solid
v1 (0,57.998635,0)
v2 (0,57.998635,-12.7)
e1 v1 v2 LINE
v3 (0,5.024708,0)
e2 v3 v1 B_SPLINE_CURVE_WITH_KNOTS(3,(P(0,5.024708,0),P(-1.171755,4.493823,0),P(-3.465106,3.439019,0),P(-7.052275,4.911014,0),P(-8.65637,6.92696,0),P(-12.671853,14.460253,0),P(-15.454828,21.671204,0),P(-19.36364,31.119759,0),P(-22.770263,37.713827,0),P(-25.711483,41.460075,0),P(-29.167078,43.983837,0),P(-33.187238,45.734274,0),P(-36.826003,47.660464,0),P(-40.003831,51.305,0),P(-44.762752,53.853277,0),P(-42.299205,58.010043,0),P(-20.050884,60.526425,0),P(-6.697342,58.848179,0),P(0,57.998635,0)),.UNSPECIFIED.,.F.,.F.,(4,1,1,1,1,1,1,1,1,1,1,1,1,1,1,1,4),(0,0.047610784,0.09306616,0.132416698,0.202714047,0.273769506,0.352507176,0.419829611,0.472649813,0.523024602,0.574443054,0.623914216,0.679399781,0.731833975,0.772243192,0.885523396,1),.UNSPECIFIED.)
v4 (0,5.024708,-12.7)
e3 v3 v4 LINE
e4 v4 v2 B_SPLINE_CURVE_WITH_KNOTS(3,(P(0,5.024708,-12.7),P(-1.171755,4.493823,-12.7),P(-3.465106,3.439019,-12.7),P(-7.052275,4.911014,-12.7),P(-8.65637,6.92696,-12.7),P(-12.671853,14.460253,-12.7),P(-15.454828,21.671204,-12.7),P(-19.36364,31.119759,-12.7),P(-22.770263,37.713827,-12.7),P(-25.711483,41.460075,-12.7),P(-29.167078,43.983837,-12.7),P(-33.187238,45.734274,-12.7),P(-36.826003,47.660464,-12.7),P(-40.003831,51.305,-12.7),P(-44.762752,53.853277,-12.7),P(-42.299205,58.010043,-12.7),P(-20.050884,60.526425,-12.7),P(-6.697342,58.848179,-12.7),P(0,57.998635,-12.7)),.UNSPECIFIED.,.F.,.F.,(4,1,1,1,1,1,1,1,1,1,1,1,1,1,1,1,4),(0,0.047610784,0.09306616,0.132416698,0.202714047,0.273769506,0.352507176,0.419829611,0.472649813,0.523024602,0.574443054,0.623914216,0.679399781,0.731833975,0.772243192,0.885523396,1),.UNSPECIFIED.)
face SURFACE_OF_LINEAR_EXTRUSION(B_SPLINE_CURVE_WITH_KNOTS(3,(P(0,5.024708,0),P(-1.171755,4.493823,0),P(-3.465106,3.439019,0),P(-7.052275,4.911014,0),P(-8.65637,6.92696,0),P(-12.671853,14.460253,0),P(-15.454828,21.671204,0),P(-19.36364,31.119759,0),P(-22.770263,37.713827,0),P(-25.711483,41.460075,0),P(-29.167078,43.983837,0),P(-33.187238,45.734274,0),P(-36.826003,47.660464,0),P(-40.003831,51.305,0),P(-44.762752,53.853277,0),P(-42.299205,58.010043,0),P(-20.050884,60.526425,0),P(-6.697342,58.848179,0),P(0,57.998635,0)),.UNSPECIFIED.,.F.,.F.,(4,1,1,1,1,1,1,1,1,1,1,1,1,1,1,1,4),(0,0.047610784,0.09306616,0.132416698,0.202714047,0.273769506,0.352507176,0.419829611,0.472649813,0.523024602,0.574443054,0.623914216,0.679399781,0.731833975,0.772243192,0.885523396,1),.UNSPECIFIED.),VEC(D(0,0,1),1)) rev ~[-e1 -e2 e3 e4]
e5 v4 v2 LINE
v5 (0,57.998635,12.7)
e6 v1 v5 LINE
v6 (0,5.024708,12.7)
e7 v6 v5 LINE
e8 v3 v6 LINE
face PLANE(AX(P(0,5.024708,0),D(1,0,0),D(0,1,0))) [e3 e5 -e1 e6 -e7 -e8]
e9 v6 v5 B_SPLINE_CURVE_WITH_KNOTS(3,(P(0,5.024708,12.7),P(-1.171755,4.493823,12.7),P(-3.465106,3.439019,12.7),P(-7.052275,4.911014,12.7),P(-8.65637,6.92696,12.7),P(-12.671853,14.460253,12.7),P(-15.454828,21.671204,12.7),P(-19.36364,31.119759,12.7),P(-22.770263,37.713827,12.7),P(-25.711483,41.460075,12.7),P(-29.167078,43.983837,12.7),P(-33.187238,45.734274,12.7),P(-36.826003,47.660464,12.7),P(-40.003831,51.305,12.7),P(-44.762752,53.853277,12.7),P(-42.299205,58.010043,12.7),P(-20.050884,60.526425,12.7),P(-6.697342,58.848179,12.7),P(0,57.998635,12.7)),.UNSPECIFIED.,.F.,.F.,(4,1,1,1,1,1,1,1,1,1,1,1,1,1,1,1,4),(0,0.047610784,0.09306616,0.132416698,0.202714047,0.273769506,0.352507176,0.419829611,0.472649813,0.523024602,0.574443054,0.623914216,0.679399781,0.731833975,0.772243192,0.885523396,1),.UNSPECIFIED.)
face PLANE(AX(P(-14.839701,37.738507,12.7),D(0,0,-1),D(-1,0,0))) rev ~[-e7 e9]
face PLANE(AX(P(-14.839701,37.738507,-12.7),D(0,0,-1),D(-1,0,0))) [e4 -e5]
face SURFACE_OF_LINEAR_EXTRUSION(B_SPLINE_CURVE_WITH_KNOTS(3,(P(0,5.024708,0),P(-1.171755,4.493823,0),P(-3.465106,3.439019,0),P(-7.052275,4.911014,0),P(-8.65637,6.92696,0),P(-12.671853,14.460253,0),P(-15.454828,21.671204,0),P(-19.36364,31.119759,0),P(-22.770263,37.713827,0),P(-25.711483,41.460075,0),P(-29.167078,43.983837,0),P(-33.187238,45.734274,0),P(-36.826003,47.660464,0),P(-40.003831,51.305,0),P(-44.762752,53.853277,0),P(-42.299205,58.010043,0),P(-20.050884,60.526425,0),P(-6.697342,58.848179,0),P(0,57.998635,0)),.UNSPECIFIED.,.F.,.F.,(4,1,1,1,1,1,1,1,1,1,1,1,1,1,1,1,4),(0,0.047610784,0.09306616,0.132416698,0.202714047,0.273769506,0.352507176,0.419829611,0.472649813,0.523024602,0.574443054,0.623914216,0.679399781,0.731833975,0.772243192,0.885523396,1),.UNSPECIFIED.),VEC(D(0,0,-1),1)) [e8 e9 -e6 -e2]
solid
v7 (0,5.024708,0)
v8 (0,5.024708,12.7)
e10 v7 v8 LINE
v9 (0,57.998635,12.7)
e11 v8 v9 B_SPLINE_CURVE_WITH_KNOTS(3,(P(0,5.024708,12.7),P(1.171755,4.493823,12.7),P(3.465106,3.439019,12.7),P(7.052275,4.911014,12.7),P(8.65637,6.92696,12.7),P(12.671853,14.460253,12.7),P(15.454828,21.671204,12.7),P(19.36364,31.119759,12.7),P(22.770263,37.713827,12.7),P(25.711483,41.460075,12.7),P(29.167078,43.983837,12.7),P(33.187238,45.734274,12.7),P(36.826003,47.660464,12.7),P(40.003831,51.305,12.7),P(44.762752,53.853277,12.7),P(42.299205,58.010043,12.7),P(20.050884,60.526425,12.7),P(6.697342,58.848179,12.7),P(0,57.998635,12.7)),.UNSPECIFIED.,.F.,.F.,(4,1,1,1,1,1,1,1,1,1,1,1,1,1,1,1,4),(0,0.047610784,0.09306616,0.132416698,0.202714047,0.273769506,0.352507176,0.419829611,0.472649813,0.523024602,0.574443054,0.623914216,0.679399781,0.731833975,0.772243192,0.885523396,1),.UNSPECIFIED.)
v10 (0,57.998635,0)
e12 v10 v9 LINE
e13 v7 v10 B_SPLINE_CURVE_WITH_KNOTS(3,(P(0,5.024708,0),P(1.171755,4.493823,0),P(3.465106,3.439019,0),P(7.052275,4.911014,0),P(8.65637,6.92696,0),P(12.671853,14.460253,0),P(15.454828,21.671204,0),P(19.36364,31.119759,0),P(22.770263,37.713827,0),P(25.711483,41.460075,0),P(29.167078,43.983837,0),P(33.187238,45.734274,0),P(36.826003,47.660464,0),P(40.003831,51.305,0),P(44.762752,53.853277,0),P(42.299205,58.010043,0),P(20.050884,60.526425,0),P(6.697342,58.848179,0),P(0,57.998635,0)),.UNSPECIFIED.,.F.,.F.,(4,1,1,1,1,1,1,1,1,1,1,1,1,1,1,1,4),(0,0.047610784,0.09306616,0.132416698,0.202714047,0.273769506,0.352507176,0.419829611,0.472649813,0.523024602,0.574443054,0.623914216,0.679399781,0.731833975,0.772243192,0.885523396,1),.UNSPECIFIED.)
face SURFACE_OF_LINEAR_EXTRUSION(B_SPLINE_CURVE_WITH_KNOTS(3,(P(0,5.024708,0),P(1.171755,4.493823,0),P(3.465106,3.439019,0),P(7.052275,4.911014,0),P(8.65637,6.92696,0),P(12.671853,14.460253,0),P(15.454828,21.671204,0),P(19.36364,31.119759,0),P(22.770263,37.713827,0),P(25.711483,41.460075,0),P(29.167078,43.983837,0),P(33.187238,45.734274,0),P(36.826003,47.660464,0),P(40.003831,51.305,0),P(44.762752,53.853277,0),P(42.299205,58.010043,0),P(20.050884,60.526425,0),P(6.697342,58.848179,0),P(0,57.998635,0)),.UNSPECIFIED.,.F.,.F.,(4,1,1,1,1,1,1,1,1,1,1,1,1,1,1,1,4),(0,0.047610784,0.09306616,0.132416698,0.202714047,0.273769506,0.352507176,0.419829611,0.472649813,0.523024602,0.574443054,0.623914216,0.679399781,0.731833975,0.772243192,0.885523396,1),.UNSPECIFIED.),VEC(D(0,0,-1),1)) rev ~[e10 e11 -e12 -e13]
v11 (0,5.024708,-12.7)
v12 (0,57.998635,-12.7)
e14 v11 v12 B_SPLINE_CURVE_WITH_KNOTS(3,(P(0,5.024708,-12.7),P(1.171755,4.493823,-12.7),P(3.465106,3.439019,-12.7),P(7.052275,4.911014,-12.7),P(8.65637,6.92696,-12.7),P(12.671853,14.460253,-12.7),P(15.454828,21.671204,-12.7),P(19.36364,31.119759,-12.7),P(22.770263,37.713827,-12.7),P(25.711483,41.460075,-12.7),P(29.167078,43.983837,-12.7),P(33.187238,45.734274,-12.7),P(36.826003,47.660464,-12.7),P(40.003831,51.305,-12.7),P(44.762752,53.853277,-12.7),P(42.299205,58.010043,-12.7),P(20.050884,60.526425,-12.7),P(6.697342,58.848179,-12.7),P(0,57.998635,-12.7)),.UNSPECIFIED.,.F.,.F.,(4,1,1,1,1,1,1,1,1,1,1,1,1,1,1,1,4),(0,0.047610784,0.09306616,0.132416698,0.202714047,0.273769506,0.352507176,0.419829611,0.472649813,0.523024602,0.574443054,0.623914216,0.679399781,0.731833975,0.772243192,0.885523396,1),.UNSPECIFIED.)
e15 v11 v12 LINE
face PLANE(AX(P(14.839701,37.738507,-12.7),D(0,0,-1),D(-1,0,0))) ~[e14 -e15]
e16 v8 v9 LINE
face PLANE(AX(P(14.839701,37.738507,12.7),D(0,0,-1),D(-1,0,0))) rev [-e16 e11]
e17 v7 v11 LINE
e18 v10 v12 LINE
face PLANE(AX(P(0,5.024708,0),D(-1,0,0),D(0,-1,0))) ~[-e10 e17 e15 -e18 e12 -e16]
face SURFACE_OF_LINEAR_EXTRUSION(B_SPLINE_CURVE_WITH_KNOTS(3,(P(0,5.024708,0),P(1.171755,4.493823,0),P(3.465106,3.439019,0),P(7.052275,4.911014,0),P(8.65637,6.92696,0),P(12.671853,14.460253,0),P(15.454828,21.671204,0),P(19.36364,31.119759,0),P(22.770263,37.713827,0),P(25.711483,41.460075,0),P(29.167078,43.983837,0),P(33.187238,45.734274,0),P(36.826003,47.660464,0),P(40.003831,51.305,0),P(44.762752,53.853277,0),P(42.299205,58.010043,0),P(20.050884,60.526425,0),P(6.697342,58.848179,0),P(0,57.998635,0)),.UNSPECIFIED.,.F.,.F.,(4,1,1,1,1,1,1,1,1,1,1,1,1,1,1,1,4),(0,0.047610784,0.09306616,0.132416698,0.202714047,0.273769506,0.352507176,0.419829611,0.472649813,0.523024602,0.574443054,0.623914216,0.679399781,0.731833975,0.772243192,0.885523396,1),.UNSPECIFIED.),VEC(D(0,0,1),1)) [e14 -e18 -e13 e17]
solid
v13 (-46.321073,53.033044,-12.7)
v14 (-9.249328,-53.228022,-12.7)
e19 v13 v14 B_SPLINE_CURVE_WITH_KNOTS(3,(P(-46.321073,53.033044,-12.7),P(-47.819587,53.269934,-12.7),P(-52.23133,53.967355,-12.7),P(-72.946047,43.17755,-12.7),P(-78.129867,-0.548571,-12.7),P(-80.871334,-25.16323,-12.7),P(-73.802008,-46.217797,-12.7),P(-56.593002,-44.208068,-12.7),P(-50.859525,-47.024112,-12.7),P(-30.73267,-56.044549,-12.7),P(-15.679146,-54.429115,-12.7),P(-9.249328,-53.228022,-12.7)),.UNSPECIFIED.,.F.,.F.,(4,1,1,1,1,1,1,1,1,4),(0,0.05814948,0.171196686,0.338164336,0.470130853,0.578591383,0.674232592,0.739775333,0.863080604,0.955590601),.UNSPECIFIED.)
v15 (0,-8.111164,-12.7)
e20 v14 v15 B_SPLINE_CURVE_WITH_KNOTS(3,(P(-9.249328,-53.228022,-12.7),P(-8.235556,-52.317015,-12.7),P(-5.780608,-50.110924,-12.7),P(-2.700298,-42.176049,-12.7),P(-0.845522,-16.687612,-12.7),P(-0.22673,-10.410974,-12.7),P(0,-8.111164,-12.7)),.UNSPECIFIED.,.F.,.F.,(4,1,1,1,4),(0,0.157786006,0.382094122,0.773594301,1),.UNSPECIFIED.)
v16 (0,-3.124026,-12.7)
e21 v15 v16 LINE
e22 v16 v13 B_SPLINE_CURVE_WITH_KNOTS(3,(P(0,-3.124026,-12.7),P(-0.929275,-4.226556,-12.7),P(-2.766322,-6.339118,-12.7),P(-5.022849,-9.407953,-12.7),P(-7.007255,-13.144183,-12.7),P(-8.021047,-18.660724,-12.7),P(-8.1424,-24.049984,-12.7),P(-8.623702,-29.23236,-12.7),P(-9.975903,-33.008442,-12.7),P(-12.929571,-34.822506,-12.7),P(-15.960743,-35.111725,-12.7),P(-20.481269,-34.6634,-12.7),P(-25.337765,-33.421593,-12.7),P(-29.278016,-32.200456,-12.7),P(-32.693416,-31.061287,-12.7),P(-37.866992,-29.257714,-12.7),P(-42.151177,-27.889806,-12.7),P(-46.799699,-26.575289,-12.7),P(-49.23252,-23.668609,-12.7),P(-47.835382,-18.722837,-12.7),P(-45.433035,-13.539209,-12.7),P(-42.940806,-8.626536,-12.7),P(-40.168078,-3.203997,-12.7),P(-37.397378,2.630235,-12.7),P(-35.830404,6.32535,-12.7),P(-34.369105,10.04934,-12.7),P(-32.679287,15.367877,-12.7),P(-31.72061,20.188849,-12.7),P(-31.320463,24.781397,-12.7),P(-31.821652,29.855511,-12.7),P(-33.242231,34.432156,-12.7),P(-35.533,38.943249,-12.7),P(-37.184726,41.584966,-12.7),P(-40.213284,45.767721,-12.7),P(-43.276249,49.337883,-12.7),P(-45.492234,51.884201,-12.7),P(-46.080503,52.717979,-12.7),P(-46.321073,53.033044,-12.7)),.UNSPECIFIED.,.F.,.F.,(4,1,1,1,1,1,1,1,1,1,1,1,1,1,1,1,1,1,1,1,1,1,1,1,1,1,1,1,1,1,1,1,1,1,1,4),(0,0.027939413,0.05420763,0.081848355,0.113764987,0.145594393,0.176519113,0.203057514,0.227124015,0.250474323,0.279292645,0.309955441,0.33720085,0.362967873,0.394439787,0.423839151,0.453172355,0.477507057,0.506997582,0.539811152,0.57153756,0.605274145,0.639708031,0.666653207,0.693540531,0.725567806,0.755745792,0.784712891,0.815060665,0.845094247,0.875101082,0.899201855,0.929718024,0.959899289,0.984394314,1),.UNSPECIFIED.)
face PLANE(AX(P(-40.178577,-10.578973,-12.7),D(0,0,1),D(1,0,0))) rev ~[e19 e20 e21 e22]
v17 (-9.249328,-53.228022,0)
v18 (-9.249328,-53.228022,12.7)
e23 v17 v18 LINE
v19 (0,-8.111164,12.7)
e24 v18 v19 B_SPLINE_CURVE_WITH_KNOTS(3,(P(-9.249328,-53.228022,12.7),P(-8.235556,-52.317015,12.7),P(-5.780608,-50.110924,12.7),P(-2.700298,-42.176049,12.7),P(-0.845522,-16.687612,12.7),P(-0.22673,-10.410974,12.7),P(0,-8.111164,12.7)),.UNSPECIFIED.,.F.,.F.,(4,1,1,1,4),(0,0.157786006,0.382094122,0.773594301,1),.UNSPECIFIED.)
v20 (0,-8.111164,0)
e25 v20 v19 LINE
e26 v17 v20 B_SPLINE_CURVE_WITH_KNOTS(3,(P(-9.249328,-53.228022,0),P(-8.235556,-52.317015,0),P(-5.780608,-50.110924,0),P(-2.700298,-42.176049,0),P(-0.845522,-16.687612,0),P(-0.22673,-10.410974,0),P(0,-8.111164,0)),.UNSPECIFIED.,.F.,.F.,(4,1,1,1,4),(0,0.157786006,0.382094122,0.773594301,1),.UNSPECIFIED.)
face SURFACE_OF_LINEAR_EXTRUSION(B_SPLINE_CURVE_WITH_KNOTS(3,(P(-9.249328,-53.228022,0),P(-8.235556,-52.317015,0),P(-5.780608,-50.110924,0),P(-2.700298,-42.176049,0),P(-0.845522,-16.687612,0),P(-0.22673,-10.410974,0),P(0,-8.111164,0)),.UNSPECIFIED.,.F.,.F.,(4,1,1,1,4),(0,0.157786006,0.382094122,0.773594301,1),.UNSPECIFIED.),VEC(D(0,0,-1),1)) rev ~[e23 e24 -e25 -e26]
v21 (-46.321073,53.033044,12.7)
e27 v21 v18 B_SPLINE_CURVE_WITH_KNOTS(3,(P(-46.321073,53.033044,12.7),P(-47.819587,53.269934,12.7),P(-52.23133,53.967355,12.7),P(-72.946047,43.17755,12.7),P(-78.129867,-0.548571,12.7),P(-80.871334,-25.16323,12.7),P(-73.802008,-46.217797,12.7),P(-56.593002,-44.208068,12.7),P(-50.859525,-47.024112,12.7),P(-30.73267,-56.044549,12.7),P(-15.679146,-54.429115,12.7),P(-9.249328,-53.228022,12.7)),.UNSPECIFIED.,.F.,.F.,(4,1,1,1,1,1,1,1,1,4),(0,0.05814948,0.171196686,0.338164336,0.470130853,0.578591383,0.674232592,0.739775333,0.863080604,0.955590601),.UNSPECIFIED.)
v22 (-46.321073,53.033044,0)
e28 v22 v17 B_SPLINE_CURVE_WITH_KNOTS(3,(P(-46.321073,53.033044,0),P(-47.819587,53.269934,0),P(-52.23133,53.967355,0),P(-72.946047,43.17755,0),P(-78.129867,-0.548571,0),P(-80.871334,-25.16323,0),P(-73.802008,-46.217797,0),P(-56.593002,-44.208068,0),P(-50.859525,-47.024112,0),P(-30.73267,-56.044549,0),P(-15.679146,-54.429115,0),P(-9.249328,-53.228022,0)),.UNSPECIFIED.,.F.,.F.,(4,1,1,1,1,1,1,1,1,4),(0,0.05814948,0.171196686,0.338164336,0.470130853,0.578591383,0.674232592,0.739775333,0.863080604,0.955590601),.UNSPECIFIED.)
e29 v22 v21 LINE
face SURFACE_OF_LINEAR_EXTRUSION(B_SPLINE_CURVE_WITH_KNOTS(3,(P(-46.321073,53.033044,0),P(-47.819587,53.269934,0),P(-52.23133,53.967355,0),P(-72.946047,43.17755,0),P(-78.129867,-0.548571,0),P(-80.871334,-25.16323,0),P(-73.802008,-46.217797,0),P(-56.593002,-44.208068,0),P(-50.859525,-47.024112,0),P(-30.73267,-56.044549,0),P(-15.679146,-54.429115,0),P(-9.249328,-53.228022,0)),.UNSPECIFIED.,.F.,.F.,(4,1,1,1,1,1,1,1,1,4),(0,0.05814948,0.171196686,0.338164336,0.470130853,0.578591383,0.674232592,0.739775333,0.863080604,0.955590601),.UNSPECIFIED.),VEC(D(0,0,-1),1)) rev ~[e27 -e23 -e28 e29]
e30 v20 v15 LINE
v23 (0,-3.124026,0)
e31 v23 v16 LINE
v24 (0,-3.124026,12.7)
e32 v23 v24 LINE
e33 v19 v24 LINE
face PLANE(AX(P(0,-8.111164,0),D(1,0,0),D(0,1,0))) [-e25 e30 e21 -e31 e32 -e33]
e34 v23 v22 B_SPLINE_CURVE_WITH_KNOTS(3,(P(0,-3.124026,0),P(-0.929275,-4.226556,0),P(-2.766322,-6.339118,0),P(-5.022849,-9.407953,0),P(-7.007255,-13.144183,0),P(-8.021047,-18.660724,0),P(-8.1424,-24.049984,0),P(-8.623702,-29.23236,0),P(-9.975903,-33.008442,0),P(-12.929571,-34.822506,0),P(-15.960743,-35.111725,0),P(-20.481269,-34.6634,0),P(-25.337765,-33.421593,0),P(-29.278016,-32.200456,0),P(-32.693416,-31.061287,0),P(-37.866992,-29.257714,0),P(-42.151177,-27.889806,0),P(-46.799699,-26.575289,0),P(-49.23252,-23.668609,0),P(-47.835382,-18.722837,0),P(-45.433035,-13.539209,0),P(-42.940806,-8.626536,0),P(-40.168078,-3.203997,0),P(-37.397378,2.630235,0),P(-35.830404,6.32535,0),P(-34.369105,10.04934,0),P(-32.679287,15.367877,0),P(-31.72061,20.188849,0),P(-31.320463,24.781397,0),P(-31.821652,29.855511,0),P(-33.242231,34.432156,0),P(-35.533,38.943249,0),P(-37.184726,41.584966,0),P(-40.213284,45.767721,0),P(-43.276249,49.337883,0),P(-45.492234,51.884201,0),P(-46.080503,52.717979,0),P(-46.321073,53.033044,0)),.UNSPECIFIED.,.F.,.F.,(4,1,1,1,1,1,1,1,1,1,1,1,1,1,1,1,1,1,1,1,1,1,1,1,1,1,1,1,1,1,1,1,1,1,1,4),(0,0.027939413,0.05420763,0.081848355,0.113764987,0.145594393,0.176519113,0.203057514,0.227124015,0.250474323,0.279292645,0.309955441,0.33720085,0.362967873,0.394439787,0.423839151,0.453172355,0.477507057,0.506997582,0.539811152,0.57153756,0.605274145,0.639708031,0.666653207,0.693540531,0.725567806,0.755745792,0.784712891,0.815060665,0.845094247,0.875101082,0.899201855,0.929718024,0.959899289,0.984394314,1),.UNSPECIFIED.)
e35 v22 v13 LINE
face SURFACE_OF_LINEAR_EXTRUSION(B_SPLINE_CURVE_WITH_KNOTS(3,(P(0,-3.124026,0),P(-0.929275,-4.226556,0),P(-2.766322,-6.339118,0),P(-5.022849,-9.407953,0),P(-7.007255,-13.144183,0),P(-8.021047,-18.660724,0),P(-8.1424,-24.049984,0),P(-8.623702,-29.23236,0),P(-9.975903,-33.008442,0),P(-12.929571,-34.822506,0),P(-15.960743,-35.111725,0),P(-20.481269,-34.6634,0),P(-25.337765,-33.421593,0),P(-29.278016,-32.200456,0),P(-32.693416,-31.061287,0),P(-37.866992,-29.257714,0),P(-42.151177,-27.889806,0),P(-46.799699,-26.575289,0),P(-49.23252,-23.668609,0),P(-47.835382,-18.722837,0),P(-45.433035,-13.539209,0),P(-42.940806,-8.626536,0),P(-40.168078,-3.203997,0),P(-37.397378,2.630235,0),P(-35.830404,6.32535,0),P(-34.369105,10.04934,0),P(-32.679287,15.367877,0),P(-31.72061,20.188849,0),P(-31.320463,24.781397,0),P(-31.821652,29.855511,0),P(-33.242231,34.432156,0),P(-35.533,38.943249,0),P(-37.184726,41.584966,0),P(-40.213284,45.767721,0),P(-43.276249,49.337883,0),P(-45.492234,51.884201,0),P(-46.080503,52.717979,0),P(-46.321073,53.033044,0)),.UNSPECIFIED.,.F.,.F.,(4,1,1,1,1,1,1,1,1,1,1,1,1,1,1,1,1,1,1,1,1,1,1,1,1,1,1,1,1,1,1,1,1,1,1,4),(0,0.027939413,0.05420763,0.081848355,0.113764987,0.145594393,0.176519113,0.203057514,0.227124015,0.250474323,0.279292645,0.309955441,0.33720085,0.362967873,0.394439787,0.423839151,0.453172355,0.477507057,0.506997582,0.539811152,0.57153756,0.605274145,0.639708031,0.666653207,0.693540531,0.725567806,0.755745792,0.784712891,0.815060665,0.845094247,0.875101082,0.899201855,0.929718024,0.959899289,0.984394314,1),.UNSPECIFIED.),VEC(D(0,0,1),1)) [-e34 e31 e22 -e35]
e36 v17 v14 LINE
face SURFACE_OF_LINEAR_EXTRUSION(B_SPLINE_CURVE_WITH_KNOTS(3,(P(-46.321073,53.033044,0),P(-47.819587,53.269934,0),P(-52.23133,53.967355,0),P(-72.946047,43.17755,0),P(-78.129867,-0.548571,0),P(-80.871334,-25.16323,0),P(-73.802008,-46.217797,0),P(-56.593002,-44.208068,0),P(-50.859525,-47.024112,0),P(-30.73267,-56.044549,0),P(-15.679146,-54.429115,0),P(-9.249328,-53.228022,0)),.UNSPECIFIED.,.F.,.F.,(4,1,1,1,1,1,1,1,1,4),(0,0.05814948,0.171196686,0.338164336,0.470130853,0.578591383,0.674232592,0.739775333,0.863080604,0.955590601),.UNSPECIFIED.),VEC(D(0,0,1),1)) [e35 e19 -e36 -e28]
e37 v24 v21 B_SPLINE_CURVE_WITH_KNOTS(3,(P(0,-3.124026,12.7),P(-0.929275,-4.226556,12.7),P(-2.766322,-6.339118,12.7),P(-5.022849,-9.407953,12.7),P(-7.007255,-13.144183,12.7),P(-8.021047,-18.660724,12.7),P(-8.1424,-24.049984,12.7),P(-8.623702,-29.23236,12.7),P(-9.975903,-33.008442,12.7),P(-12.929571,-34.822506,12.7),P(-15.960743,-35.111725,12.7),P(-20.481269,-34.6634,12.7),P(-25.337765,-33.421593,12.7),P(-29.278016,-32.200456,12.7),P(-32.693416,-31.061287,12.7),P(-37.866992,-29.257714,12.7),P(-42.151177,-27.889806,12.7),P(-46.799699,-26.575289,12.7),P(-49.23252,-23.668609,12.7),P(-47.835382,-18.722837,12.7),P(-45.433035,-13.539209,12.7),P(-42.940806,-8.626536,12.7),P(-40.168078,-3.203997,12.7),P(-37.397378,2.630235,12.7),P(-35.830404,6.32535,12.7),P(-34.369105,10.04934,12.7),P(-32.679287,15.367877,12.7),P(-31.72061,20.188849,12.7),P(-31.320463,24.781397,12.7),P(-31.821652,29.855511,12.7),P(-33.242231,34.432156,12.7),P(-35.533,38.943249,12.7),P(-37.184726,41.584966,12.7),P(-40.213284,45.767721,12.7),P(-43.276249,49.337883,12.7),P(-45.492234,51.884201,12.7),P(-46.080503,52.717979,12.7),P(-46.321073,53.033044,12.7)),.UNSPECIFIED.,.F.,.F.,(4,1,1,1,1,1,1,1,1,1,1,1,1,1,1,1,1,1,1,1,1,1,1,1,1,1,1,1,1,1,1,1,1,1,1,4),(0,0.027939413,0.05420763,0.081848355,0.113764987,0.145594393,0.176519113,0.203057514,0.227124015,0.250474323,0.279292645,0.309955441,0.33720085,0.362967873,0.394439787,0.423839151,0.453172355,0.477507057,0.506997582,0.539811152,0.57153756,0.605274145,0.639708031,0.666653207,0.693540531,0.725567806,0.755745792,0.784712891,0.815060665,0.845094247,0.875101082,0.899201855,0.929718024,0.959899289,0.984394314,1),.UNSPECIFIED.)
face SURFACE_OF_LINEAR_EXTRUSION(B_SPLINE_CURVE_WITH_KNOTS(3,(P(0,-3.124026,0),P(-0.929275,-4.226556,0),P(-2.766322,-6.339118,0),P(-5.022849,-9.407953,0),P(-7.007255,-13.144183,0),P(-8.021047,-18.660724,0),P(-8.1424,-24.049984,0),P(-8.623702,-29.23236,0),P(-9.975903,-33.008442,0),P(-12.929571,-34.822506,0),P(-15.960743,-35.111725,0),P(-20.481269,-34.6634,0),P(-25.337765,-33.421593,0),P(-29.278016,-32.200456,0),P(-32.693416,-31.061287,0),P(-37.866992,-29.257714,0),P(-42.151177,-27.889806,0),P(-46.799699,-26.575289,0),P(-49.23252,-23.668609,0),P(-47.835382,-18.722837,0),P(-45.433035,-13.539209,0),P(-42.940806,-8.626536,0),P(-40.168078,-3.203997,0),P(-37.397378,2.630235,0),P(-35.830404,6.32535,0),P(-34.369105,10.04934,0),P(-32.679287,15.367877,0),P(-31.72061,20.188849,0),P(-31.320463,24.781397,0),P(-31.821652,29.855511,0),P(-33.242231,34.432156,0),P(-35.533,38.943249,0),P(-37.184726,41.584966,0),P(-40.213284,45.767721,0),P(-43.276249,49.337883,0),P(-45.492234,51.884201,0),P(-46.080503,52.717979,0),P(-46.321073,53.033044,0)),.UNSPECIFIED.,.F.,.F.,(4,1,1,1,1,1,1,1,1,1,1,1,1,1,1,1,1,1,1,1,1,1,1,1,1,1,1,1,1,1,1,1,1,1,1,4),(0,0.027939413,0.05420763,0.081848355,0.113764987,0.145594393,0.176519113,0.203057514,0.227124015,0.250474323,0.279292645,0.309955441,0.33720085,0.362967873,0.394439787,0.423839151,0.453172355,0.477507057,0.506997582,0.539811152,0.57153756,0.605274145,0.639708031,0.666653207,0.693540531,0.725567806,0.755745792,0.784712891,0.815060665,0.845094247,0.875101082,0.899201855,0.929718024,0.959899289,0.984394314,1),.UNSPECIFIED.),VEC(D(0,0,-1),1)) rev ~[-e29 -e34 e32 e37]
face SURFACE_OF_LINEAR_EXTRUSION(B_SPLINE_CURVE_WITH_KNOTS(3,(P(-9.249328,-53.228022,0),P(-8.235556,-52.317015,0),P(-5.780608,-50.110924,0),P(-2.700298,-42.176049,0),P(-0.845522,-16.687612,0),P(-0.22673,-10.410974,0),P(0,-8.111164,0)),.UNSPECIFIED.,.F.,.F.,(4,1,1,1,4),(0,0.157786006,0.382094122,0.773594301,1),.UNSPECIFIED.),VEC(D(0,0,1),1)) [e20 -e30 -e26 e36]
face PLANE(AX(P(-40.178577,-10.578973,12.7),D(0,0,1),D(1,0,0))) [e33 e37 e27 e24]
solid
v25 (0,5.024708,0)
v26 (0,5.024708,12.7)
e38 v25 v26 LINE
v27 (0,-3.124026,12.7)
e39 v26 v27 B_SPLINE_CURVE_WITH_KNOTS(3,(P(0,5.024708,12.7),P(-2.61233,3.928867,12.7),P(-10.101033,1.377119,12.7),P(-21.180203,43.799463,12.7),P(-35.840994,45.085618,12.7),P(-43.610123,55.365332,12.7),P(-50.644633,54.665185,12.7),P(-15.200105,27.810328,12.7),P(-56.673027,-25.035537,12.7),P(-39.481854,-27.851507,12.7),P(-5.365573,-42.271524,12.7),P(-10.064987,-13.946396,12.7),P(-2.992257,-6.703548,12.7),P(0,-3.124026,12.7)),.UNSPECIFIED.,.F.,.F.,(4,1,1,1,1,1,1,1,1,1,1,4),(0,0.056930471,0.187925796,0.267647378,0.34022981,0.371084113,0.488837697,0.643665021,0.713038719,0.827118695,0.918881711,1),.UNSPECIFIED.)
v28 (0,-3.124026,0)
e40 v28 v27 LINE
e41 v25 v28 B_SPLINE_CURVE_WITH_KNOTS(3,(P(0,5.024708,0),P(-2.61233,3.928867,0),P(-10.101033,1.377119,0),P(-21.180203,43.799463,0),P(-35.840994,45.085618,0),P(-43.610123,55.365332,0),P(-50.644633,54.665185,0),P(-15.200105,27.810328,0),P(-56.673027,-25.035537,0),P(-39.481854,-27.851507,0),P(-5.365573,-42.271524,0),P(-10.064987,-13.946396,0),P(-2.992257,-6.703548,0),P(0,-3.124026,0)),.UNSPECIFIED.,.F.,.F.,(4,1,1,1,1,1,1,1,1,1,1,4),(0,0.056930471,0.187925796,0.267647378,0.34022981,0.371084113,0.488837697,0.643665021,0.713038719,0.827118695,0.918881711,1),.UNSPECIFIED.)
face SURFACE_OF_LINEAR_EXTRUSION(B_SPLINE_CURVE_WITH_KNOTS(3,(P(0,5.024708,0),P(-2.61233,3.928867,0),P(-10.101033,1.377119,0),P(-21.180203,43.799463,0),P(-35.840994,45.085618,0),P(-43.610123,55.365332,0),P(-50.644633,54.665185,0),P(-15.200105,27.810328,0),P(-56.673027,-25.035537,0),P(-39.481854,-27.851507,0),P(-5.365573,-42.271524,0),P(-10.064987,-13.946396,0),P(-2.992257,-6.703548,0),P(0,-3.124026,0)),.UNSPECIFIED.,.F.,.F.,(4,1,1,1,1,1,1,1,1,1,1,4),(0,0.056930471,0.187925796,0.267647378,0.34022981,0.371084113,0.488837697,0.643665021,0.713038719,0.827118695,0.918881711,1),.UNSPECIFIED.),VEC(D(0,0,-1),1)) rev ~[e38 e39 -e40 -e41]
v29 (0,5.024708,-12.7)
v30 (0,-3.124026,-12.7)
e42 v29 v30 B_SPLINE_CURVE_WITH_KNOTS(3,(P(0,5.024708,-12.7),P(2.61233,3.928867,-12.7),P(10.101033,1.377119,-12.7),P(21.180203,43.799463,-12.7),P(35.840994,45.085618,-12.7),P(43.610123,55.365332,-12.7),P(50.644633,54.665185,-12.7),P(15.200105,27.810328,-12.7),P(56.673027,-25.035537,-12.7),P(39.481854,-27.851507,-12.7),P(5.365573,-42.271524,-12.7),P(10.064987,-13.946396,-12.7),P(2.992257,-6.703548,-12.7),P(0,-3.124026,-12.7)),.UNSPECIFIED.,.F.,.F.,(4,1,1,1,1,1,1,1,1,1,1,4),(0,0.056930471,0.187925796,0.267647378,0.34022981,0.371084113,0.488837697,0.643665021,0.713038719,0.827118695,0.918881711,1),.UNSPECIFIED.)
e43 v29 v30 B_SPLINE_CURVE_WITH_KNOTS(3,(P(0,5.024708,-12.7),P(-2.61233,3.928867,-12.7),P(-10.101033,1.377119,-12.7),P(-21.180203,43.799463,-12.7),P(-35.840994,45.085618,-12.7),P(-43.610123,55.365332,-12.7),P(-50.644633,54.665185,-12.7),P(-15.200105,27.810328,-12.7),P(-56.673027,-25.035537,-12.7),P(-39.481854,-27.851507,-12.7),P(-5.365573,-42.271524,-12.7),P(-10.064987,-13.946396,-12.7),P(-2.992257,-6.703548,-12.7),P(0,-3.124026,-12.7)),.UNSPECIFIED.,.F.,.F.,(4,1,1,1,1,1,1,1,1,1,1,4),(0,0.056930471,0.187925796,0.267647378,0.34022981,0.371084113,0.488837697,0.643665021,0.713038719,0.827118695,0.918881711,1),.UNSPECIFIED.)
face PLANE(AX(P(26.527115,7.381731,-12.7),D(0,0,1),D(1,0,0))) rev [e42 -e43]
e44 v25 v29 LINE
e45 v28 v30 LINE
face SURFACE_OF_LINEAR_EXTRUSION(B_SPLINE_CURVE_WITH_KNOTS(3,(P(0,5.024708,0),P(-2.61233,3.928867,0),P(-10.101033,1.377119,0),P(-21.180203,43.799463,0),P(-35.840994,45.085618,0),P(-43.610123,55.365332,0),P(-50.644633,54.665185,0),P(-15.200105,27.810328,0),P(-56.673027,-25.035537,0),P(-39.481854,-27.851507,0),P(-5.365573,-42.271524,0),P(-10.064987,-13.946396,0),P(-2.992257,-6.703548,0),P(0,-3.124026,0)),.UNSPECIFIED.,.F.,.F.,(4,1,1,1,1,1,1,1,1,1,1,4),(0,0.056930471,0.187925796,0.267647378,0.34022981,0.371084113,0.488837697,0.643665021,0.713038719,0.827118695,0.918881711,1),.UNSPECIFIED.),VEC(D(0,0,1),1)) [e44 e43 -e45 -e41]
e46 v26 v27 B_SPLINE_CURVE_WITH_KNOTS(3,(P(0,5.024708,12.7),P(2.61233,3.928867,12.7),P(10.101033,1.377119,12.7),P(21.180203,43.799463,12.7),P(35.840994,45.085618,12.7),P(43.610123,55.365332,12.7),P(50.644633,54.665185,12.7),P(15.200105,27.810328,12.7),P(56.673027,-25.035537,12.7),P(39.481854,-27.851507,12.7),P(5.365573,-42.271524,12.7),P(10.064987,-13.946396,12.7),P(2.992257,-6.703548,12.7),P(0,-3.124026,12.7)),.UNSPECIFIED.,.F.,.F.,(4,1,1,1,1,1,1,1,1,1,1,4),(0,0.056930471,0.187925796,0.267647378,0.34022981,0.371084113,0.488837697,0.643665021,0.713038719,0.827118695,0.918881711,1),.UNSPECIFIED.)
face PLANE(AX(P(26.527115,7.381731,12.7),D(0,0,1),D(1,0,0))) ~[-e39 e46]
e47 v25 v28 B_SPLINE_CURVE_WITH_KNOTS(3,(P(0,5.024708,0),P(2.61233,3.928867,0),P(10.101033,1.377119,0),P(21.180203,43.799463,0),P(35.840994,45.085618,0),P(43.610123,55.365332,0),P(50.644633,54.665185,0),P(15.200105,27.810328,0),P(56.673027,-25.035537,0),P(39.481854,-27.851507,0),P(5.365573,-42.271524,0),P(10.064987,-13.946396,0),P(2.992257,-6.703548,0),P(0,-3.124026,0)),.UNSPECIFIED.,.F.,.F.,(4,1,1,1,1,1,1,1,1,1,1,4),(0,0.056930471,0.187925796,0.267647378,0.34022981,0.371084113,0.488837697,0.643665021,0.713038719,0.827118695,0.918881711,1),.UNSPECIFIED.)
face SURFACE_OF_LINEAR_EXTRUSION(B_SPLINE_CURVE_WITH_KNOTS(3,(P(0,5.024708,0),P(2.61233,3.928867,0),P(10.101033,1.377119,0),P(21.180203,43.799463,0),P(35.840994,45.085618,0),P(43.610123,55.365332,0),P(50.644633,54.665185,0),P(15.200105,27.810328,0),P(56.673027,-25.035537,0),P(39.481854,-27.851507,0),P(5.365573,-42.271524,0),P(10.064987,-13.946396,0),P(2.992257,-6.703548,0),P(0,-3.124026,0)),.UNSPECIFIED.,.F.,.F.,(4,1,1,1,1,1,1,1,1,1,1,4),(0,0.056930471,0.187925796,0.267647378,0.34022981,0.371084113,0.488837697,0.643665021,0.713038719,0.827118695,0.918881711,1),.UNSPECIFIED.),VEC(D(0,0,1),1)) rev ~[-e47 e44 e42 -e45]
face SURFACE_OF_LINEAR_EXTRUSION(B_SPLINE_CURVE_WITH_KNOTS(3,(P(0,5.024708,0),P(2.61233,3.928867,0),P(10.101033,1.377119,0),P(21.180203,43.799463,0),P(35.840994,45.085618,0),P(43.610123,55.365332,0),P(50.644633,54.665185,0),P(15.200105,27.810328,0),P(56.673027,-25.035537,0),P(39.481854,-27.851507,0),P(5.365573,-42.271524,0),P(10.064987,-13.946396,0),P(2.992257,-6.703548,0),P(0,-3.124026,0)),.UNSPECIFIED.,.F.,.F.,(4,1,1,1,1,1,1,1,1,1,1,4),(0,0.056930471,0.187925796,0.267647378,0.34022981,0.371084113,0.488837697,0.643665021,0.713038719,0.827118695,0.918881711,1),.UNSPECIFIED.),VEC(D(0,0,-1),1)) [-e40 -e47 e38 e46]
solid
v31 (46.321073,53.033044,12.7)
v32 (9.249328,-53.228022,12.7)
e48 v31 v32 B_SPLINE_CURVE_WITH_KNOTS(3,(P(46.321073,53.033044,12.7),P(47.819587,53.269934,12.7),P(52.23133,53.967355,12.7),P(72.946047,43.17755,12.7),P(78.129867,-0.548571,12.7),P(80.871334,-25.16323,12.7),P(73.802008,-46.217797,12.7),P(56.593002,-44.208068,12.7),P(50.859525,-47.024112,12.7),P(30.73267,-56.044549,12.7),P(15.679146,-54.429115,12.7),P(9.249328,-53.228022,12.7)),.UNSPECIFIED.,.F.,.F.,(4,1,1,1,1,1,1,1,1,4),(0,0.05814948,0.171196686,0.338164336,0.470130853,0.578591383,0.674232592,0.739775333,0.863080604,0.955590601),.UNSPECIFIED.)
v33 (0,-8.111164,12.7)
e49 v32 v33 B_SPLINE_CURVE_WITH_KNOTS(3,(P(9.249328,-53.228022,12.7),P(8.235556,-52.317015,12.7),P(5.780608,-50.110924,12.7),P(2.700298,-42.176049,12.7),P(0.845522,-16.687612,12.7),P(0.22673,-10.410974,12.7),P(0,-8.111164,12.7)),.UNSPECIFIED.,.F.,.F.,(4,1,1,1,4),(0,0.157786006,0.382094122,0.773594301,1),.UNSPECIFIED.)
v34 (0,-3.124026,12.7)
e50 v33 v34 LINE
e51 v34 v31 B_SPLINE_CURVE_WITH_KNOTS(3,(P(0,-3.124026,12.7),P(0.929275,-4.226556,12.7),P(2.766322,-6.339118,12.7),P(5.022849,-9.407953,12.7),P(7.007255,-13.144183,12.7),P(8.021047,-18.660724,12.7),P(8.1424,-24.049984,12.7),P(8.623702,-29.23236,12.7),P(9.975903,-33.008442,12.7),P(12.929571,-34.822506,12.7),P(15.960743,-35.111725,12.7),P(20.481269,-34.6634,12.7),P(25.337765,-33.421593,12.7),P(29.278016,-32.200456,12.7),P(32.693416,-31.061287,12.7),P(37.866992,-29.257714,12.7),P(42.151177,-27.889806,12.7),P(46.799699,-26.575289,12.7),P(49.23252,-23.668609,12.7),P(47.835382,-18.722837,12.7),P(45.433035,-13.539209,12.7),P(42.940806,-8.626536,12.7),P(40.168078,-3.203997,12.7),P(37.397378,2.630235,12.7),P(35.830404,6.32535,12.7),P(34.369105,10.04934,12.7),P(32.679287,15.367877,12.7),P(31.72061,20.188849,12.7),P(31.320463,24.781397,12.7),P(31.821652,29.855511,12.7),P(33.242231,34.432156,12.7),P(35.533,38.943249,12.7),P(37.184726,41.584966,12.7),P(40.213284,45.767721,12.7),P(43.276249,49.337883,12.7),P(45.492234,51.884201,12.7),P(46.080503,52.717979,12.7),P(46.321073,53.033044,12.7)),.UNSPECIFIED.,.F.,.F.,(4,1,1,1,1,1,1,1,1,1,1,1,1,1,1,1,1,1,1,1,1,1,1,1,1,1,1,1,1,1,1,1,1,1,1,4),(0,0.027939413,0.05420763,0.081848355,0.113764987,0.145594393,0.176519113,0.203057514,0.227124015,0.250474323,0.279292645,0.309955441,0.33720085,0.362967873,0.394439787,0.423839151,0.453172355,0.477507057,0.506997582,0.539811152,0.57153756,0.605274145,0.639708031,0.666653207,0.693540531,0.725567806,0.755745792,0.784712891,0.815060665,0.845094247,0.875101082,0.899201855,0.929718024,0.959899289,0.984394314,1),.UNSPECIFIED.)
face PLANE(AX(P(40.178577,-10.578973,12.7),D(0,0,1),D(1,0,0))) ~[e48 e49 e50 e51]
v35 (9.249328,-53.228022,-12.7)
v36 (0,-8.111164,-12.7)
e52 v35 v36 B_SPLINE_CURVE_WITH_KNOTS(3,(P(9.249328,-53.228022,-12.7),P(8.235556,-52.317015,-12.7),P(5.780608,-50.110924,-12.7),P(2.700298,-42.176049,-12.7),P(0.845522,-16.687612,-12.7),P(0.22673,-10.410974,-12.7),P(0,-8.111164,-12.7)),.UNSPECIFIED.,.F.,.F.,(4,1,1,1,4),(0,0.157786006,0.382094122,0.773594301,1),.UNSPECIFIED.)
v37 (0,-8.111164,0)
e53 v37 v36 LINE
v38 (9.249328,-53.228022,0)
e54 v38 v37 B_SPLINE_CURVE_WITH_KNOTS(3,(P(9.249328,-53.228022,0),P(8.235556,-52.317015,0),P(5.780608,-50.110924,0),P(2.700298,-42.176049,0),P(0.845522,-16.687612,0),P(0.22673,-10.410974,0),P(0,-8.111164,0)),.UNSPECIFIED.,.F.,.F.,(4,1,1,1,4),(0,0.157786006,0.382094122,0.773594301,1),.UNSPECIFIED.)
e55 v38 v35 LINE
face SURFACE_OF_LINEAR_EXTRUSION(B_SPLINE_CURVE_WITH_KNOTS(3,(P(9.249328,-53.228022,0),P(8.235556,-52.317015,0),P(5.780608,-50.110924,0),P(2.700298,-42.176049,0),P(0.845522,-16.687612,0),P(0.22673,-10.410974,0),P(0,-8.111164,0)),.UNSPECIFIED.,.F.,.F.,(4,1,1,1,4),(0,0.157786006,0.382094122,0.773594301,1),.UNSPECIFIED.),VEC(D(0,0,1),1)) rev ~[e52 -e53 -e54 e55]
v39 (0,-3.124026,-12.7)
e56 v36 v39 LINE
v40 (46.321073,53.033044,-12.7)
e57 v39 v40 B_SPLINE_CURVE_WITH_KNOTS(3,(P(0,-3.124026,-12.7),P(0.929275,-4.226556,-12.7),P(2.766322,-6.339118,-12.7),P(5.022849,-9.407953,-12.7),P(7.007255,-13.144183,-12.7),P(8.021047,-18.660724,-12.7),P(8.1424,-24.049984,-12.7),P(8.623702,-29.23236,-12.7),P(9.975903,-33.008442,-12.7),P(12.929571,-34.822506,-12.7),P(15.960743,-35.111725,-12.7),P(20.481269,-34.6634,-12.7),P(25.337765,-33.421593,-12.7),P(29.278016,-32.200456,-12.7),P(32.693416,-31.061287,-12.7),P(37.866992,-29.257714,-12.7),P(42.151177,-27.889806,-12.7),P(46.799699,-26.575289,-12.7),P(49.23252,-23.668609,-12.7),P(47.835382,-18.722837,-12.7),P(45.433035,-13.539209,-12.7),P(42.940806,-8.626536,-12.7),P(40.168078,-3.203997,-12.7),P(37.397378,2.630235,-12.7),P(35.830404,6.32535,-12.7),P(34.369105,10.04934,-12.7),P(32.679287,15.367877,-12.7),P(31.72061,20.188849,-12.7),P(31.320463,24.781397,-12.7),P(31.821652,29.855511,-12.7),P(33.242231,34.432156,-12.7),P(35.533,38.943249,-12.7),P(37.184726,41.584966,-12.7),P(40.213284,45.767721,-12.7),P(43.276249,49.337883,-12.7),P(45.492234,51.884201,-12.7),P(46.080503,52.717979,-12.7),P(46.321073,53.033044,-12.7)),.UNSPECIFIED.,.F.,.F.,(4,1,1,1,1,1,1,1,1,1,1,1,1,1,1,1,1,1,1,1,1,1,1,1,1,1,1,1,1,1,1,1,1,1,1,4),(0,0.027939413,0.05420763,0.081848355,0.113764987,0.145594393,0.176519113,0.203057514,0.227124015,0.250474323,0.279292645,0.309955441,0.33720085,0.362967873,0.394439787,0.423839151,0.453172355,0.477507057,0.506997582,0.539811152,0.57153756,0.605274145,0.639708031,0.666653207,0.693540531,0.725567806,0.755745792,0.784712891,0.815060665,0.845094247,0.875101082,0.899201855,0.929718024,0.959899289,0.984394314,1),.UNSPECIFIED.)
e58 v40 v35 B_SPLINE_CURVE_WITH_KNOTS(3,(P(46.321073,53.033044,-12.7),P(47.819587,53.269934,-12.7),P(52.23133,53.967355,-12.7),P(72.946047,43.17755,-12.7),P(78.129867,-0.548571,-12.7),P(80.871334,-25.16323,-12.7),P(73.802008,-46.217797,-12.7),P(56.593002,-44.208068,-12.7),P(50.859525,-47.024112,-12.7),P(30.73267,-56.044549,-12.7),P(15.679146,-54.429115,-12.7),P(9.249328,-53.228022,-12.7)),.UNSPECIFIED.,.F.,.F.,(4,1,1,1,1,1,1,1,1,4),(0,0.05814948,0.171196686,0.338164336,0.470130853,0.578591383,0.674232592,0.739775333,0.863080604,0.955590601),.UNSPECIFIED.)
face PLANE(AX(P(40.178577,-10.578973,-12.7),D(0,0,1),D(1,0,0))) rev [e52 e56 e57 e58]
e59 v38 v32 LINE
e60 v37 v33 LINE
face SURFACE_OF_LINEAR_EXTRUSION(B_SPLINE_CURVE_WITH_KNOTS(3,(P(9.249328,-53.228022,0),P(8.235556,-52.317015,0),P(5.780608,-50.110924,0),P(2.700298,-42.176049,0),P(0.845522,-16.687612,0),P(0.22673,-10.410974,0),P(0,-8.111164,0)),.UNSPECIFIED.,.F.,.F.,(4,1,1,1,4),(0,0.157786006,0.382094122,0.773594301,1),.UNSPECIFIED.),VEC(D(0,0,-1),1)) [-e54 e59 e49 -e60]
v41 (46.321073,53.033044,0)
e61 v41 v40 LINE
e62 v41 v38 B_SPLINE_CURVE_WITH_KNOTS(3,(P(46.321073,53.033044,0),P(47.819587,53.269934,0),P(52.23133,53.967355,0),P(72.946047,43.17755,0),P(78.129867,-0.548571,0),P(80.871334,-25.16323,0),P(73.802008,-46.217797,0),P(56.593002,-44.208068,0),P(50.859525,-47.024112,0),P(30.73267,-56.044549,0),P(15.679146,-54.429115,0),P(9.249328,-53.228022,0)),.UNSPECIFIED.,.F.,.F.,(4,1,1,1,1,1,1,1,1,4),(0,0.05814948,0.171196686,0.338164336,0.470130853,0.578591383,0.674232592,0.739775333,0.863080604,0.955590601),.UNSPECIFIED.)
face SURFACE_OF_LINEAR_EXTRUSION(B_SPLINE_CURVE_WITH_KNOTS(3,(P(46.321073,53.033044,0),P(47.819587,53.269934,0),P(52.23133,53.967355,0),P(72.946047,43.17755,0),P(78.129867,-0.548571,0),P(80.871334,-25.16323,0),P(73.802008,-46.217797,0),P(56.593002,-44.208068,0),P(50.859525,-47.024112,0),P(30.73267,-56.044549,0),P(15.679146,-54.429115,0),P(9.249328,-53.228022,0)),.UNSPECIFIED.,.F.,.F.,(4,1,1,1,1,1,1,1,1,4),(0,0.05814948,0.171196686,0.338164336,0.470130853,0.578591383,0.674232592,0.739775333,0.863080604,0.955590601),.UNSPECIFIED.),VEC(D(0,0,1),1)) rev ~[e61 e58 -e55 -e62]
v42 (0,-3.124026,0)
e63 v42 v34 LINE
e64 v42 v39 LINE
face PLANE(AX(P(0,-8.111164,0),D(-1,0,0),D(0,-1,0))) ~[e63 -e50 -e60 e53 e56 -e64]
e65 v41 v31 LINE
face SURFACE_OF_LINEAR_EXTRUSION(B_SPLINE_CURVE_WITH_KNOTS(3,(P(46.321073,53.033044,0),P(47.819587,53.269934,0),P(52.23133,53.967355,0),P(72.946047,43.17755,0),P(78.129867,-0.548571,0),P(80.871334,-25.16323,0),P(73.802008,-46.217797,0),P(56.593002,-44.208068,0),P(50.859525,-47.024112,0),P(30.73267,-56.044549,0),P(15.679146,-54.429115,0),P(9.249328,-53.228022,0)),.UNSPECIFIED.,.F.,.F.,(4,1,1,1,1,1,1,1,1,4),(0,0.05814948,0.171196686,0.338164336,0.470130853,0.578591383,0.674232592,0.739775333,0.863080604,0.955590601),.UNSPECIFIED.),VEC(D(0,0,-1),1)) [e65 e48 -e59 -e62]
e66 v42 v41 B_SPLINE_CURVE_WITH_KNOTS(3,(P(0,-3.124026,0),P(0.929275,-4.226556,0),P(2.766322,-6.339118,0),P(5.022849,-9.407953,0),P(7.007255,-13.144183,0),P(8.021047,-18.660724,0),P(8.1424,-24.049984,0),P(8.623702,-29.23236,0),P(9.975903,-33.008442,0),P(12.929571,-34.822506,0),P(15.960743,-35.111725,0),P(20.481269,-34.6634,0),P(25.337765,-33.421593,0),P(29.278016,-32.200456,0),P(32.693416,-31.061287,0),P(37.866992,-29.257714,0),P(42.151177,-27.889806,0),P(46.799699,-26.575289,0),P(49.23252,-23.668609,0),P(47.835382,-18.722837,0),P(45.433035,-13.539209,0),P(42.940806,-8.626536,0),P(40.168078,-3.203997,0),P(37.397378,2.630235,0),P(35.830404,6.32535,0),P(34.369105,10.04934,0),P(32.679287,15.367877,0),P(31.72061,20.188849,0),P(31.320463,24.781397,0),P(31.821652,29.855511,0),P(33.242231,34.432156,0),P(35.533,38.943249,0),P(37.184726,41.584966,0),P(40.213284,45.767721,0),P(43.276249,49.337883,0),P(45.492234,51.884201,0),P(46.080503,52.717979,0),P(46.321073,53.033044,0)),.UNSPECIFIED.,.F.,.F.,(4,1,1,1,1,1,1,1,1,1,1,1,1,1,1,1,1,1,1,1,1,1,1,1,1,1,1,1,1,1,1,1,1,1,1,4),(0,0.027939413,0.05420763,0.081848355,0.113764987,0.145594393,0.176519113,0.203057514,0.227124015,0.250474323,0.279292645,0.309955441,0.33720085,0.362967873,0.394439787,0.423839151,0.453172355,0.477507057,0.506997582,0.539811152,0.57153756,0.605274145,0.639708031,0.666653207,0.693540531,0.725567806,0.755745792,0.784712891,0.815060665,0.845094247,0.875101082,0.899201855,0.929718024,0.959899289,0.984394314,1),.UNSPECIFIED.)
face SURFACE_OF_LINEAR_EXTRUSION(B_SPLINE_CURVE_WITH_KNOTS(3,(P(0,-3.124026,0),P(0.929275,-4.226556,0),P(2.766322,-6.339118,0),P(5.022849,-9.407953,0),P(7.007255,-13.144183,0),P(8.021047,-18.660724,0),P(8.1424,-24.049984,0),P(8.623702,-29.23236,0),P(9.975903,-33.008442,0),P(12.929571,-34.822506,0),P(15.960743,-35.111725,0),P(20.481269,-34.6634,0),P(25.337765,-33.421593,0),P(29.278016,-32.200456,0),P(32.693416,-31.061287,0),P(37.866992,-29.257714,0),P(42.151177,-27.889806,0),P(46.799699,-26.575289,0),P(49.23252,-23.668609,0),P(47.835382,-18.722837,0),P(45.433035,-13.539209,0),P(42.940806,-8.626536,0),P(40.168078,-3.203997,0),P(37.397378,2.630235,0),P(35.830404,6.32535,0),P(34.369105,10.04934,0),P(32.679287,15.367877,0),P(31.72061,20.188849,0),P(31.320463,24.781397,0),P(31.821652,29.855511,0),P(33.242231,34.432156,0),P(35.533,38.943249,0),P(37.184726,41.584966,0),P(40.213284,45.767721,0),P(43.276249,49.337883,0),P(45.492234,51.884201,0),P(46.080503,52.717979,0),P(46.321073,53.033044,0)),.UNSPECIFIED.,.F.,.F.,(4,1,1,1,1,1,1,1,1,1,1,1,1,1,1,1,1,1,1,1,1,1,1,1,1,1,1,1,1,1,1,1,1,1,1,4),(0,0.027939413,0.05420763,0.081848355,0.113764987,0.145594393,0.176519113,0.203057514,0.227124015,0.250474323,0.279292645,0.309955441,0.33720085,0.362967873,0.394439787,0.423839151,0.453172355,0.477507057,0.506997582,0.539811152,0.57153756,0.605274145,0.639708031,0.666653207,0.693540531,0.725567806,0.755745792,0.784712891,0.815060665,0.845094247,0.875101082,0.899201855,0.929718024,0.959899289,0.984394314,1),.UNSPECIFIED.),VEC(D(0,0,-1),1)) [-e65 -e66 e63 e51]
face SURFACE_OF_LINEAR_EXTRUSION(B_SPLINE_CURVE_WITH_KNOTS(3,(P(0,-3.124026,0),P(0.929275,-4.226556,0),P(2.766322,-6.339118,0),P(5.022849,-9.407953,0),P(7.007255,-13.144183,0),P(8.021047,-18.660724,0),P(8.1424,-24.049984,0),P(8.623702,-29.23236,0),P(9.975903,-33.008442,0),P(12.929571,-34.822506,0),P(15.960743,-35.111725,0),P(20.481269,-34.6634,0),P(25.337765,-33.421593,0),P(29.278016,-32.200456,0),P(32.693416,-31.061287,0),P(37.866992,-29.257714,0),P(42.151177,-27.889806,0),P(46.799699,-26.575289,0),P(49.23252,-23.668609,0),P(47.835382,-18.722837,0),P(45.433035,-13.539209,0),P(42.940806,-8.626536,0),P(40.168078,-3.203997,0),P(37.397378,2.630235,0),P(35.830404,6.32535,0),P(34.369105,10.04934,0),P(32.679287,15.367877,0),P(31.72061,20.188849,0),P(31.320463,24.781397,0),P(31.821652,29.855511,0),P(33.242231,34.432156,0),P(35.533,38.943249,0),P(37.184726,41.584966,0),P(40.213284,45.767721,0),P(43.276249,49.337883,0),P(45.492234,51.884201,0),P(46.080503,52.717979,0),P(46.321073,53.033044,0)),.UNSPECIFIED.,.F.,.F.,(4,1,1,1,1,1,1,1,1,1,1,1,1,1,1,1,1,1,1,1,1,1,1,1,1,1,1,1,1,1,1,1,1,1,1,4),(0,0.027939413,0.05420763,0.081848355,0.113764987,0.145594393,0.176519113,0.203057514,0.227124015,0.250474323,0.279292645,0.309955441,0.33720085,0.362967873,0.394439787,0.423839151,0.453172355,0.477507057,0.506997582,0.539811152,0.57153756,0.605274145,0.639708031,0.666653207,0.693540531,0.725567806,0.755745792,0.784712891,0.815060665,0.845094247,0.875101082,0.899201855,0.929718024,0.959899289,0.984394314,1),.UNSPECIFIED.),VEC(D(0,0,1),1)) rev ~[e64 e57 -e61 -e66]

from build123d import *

# Parameters (mm, degrees)
F1_DEPTH = 12.7
F4_DEPTH = 12.7
F7_DEPTH = 12.7


with BuildPart() as f1:
    # F0 (on Top) → F1 (new body, symmetric)
    with BuildSketch(Plane.XY):
        with BuildLine():
            Line((0, -3.1240263815), (0, 5.0247077639))
            add(Edge.make_bspline(
                [(0, 5.0247077639), (-2.6123303792, 3.9288672533), (-10.1010325214, 1.3771185054), (-21.1802025564, 43.7994632598), (-35.8409939254, 45.0856183057), (-43.6101225144, 55.3653320239), (-50.6446332122, 54.6651850054), (-15.2001047227, 27.8103283318), (-56.6730273366, -25.0355366777), (-39.4818543736, -27.8515073113), (-5.3655730295, -42.2715239153), (-10.0649867889, -13.9463962568), (-2.9922570077, -6.7035477403), (0, -3.1240263815)],
                knots=[0, 0, 0, 0, 0.0569304707, 0.1879257965, 0.2676473783, 0.3402298101, 0.3710841131, 0.4888376968, 0.6436650211, 0.7130387194, 0.8271186955, 0.9188817109, 1, 1, 1, 1], degree=3))
        make_face()
    extrude(amount=F1_DEPTH, both=True)

    # F2: F1 across plane


with BuildPart() as f1_1:
    add(f1.part)
    add(f1.part.mirror(Plane.YZ))


with BuildPart() as f4:
    # F3 (on Top) → F4 (new body, symmetric)
    with BuildSketch(Plane.XY):
        with BuildLine():
            add(Edge.make_bspline(
                [(0, 5.0247077639), (-1.1717546943, 4.493822686), (-3.4651063648, 3.4390193783), (-7.0522745719, 4.9110143663), (-8.6563704033, 6.9269602828), (-12.6718531055, 14.4602531592), (-15.4548277893, 21.6712036634), (-19.3636398916, 31.1197588283), (-22.7702628506, 37.7138269582), (-25.7114834806, 41.4600749806), (-29.1670779606, 43.983837304), (-33.1872381871, 45.7342737051), (-36.8260033722, 47.6604642058), (-40.00383122, 51.3049997244), (-44.7627519766, 53.8532767734), (-42.2992048489, 58.0100433981), (-20.0508843124, 60.5264253346), (-6.6973417906, 58.8481789959), (0, 57.9986348748)],
                knots=[0, 0, 0, 0, 0.047610784, 0.0930661601, 0.1324166982, 0.2027140469, 0.2737695062, 0.3525071759, 0.4198296111, 0.4726498127, 0.523024602, 0.5744430543, 0.6239142157, 0.6793997805, 0.731833975, 0.7722431925, 0.8855233958, 1, 1, 1, 1], degree=3))
            Line((0, 5.0247077639), (0, 57.9986348748))
        make_face()
    extrude(amount=F4_DEPTH, both=True)


with BuildPart() as f5_1:
    # F5: instance of F4
    add(f4.part.mirror(Plane.YZ))


with BuildPart() as f7:
    # F6 (on Top) → F7 (new body, symmetric)
    with BuildSketch(Plane.XY):
        with BuildLine():
            Line((0, -8.1111639738), (0, -3.1240263815))
            add(Edge.make_bspline(
                [(0, -3.1240263815), (-0.9292752461, -4.2265559221), (-2.766322446, -6.3391177138), (-5.0228492586, -9.4079529513), (-7.0072545455, -13.1441830346), (-8.0210471254, -18.6607240888), (-8.1424003741, -24.0499836844), (-8.6237018345, -29.2323603894), (-9.9759025008, -33.0084421691), (-12.9295708787, -34.8225061616), (-15.9607431629, -35.1117252278), (-20.4812693768, -34.6633999484), (-25.3377646616, -33.4215934702), (-29.2780160793, -32.2004561231), (-32.6934164173, -31.0612870882), (-37.866991671, -29.2577136558), (-42.1511771667, -27.8898056287), (-46.7996988696, -26.5752891771), (-49.2325203615, -23.6686085863), (-47.8353820745, -18.7228371832), (-45.4330354542, -13.5392092659), (-42.9408062789, -8.6265359701), (-40.1680782847, -3.2039968086), (-37.3973784787, 2.63023549), (-35.8304039266, 6.3253503207), (-34.3691053673, 10.0493399669), (-32.6792873136, 15.3678771438), (-31.720610284, 20.1888489628), (-31.3204626113, 24.7813967669), (-31.8216523609, 29.8555111434), (-33.2422306712, 34.4321555404), (-35.5329995477, 38.9432491427), (-37.1847255499, 41.5849658793), (-40.2132839804, 45.7677212068), (-43.2762491538, 49.3378831658), (-45.4922335062, 51.8842009106), (-46.0805028774, 52.7179791695), (-46.3210727407, 53.0330442148)],
                knots=[0, 0, 0, 0, 0.0279394134, 0.05420763, 0.0818483551, 0.113764987, 0.1455943928, 0.1765191126, 0.2030575136, 0.2271240146, 0.2504743226, 0.2792926447, 0.3099554411, 0.3372008505, 0.3629678731, 0.3944397867, 0.423839151, 0.4531723546, 0.4775070573, 0.5069975816, 0.5398111521, 0.5715375597, 0.6052741452, 0.6397080307, 0.666653207, 0.6935405307, 0.7255678062, 0.755745792, 0.7847128912, 0.8150606645, 0.8450942466, 0.875101082, 0.8992018551, 0.9297180238, 0.9598992893, 0.9843943138, 1, 1, 1, 1], degree=3))
            add(Edge.make_bspline(
                [(-46.3210727407, 53.0330442148), (-47.8195865426, 53.2699336816), (-52.2313301369, 53.9673550775), (-72.9460470032, 43.1775499778), (-78.1298668808, -0.5485707556), (-80.8713339713, -25.1632303787), (-73.8020077549, -46.2177966584), (-56.5930016407, -44.2080683786), (-50.8595247973, -47.0241117407), (-30.7326701187, -56.0445487323), (-15.6791460333, -54.4291151729), (-9.2493283301, -53.2280220451)],
                knots=[0, 0, 0, 0, 0.0581494804, 0.1711966864, 0.3381643355, 0.4701308527, 0.5785913828, 0.6742325924, 0.7397753332, 0.8630806043, 0.9555906014, 0.9555906014, 0.9555906014, 0.9555906014], degree=3))
            add(Edge.make_bspline(
                [(-9.2493283301, -53.2280220451), (-8.2355560104, -52.3170153473), (-5.7806079829, -50.1109242435), (-2.7002984552, -42.1760487851), (-0.8455216089, -16.6876115453), (-0.2267301741, -10.4109744463), (0, -8.1111639738)],
                knots=[0, 0, 0, 0, 0.1577860059, 0.3820941216, 0.773594301, 1, 1, 1, 1], degree=3))
        make_face()
    extrude(amount=F7_DEPTH, both=True)


with BuildPart() as f8_1:
    # F8: instance of F7
    add(f7.part.mirror(Plane.YZ))


solid = Compound([f1_1.part, f4.part, f5_1.part, f7.part, f8_1.part])
